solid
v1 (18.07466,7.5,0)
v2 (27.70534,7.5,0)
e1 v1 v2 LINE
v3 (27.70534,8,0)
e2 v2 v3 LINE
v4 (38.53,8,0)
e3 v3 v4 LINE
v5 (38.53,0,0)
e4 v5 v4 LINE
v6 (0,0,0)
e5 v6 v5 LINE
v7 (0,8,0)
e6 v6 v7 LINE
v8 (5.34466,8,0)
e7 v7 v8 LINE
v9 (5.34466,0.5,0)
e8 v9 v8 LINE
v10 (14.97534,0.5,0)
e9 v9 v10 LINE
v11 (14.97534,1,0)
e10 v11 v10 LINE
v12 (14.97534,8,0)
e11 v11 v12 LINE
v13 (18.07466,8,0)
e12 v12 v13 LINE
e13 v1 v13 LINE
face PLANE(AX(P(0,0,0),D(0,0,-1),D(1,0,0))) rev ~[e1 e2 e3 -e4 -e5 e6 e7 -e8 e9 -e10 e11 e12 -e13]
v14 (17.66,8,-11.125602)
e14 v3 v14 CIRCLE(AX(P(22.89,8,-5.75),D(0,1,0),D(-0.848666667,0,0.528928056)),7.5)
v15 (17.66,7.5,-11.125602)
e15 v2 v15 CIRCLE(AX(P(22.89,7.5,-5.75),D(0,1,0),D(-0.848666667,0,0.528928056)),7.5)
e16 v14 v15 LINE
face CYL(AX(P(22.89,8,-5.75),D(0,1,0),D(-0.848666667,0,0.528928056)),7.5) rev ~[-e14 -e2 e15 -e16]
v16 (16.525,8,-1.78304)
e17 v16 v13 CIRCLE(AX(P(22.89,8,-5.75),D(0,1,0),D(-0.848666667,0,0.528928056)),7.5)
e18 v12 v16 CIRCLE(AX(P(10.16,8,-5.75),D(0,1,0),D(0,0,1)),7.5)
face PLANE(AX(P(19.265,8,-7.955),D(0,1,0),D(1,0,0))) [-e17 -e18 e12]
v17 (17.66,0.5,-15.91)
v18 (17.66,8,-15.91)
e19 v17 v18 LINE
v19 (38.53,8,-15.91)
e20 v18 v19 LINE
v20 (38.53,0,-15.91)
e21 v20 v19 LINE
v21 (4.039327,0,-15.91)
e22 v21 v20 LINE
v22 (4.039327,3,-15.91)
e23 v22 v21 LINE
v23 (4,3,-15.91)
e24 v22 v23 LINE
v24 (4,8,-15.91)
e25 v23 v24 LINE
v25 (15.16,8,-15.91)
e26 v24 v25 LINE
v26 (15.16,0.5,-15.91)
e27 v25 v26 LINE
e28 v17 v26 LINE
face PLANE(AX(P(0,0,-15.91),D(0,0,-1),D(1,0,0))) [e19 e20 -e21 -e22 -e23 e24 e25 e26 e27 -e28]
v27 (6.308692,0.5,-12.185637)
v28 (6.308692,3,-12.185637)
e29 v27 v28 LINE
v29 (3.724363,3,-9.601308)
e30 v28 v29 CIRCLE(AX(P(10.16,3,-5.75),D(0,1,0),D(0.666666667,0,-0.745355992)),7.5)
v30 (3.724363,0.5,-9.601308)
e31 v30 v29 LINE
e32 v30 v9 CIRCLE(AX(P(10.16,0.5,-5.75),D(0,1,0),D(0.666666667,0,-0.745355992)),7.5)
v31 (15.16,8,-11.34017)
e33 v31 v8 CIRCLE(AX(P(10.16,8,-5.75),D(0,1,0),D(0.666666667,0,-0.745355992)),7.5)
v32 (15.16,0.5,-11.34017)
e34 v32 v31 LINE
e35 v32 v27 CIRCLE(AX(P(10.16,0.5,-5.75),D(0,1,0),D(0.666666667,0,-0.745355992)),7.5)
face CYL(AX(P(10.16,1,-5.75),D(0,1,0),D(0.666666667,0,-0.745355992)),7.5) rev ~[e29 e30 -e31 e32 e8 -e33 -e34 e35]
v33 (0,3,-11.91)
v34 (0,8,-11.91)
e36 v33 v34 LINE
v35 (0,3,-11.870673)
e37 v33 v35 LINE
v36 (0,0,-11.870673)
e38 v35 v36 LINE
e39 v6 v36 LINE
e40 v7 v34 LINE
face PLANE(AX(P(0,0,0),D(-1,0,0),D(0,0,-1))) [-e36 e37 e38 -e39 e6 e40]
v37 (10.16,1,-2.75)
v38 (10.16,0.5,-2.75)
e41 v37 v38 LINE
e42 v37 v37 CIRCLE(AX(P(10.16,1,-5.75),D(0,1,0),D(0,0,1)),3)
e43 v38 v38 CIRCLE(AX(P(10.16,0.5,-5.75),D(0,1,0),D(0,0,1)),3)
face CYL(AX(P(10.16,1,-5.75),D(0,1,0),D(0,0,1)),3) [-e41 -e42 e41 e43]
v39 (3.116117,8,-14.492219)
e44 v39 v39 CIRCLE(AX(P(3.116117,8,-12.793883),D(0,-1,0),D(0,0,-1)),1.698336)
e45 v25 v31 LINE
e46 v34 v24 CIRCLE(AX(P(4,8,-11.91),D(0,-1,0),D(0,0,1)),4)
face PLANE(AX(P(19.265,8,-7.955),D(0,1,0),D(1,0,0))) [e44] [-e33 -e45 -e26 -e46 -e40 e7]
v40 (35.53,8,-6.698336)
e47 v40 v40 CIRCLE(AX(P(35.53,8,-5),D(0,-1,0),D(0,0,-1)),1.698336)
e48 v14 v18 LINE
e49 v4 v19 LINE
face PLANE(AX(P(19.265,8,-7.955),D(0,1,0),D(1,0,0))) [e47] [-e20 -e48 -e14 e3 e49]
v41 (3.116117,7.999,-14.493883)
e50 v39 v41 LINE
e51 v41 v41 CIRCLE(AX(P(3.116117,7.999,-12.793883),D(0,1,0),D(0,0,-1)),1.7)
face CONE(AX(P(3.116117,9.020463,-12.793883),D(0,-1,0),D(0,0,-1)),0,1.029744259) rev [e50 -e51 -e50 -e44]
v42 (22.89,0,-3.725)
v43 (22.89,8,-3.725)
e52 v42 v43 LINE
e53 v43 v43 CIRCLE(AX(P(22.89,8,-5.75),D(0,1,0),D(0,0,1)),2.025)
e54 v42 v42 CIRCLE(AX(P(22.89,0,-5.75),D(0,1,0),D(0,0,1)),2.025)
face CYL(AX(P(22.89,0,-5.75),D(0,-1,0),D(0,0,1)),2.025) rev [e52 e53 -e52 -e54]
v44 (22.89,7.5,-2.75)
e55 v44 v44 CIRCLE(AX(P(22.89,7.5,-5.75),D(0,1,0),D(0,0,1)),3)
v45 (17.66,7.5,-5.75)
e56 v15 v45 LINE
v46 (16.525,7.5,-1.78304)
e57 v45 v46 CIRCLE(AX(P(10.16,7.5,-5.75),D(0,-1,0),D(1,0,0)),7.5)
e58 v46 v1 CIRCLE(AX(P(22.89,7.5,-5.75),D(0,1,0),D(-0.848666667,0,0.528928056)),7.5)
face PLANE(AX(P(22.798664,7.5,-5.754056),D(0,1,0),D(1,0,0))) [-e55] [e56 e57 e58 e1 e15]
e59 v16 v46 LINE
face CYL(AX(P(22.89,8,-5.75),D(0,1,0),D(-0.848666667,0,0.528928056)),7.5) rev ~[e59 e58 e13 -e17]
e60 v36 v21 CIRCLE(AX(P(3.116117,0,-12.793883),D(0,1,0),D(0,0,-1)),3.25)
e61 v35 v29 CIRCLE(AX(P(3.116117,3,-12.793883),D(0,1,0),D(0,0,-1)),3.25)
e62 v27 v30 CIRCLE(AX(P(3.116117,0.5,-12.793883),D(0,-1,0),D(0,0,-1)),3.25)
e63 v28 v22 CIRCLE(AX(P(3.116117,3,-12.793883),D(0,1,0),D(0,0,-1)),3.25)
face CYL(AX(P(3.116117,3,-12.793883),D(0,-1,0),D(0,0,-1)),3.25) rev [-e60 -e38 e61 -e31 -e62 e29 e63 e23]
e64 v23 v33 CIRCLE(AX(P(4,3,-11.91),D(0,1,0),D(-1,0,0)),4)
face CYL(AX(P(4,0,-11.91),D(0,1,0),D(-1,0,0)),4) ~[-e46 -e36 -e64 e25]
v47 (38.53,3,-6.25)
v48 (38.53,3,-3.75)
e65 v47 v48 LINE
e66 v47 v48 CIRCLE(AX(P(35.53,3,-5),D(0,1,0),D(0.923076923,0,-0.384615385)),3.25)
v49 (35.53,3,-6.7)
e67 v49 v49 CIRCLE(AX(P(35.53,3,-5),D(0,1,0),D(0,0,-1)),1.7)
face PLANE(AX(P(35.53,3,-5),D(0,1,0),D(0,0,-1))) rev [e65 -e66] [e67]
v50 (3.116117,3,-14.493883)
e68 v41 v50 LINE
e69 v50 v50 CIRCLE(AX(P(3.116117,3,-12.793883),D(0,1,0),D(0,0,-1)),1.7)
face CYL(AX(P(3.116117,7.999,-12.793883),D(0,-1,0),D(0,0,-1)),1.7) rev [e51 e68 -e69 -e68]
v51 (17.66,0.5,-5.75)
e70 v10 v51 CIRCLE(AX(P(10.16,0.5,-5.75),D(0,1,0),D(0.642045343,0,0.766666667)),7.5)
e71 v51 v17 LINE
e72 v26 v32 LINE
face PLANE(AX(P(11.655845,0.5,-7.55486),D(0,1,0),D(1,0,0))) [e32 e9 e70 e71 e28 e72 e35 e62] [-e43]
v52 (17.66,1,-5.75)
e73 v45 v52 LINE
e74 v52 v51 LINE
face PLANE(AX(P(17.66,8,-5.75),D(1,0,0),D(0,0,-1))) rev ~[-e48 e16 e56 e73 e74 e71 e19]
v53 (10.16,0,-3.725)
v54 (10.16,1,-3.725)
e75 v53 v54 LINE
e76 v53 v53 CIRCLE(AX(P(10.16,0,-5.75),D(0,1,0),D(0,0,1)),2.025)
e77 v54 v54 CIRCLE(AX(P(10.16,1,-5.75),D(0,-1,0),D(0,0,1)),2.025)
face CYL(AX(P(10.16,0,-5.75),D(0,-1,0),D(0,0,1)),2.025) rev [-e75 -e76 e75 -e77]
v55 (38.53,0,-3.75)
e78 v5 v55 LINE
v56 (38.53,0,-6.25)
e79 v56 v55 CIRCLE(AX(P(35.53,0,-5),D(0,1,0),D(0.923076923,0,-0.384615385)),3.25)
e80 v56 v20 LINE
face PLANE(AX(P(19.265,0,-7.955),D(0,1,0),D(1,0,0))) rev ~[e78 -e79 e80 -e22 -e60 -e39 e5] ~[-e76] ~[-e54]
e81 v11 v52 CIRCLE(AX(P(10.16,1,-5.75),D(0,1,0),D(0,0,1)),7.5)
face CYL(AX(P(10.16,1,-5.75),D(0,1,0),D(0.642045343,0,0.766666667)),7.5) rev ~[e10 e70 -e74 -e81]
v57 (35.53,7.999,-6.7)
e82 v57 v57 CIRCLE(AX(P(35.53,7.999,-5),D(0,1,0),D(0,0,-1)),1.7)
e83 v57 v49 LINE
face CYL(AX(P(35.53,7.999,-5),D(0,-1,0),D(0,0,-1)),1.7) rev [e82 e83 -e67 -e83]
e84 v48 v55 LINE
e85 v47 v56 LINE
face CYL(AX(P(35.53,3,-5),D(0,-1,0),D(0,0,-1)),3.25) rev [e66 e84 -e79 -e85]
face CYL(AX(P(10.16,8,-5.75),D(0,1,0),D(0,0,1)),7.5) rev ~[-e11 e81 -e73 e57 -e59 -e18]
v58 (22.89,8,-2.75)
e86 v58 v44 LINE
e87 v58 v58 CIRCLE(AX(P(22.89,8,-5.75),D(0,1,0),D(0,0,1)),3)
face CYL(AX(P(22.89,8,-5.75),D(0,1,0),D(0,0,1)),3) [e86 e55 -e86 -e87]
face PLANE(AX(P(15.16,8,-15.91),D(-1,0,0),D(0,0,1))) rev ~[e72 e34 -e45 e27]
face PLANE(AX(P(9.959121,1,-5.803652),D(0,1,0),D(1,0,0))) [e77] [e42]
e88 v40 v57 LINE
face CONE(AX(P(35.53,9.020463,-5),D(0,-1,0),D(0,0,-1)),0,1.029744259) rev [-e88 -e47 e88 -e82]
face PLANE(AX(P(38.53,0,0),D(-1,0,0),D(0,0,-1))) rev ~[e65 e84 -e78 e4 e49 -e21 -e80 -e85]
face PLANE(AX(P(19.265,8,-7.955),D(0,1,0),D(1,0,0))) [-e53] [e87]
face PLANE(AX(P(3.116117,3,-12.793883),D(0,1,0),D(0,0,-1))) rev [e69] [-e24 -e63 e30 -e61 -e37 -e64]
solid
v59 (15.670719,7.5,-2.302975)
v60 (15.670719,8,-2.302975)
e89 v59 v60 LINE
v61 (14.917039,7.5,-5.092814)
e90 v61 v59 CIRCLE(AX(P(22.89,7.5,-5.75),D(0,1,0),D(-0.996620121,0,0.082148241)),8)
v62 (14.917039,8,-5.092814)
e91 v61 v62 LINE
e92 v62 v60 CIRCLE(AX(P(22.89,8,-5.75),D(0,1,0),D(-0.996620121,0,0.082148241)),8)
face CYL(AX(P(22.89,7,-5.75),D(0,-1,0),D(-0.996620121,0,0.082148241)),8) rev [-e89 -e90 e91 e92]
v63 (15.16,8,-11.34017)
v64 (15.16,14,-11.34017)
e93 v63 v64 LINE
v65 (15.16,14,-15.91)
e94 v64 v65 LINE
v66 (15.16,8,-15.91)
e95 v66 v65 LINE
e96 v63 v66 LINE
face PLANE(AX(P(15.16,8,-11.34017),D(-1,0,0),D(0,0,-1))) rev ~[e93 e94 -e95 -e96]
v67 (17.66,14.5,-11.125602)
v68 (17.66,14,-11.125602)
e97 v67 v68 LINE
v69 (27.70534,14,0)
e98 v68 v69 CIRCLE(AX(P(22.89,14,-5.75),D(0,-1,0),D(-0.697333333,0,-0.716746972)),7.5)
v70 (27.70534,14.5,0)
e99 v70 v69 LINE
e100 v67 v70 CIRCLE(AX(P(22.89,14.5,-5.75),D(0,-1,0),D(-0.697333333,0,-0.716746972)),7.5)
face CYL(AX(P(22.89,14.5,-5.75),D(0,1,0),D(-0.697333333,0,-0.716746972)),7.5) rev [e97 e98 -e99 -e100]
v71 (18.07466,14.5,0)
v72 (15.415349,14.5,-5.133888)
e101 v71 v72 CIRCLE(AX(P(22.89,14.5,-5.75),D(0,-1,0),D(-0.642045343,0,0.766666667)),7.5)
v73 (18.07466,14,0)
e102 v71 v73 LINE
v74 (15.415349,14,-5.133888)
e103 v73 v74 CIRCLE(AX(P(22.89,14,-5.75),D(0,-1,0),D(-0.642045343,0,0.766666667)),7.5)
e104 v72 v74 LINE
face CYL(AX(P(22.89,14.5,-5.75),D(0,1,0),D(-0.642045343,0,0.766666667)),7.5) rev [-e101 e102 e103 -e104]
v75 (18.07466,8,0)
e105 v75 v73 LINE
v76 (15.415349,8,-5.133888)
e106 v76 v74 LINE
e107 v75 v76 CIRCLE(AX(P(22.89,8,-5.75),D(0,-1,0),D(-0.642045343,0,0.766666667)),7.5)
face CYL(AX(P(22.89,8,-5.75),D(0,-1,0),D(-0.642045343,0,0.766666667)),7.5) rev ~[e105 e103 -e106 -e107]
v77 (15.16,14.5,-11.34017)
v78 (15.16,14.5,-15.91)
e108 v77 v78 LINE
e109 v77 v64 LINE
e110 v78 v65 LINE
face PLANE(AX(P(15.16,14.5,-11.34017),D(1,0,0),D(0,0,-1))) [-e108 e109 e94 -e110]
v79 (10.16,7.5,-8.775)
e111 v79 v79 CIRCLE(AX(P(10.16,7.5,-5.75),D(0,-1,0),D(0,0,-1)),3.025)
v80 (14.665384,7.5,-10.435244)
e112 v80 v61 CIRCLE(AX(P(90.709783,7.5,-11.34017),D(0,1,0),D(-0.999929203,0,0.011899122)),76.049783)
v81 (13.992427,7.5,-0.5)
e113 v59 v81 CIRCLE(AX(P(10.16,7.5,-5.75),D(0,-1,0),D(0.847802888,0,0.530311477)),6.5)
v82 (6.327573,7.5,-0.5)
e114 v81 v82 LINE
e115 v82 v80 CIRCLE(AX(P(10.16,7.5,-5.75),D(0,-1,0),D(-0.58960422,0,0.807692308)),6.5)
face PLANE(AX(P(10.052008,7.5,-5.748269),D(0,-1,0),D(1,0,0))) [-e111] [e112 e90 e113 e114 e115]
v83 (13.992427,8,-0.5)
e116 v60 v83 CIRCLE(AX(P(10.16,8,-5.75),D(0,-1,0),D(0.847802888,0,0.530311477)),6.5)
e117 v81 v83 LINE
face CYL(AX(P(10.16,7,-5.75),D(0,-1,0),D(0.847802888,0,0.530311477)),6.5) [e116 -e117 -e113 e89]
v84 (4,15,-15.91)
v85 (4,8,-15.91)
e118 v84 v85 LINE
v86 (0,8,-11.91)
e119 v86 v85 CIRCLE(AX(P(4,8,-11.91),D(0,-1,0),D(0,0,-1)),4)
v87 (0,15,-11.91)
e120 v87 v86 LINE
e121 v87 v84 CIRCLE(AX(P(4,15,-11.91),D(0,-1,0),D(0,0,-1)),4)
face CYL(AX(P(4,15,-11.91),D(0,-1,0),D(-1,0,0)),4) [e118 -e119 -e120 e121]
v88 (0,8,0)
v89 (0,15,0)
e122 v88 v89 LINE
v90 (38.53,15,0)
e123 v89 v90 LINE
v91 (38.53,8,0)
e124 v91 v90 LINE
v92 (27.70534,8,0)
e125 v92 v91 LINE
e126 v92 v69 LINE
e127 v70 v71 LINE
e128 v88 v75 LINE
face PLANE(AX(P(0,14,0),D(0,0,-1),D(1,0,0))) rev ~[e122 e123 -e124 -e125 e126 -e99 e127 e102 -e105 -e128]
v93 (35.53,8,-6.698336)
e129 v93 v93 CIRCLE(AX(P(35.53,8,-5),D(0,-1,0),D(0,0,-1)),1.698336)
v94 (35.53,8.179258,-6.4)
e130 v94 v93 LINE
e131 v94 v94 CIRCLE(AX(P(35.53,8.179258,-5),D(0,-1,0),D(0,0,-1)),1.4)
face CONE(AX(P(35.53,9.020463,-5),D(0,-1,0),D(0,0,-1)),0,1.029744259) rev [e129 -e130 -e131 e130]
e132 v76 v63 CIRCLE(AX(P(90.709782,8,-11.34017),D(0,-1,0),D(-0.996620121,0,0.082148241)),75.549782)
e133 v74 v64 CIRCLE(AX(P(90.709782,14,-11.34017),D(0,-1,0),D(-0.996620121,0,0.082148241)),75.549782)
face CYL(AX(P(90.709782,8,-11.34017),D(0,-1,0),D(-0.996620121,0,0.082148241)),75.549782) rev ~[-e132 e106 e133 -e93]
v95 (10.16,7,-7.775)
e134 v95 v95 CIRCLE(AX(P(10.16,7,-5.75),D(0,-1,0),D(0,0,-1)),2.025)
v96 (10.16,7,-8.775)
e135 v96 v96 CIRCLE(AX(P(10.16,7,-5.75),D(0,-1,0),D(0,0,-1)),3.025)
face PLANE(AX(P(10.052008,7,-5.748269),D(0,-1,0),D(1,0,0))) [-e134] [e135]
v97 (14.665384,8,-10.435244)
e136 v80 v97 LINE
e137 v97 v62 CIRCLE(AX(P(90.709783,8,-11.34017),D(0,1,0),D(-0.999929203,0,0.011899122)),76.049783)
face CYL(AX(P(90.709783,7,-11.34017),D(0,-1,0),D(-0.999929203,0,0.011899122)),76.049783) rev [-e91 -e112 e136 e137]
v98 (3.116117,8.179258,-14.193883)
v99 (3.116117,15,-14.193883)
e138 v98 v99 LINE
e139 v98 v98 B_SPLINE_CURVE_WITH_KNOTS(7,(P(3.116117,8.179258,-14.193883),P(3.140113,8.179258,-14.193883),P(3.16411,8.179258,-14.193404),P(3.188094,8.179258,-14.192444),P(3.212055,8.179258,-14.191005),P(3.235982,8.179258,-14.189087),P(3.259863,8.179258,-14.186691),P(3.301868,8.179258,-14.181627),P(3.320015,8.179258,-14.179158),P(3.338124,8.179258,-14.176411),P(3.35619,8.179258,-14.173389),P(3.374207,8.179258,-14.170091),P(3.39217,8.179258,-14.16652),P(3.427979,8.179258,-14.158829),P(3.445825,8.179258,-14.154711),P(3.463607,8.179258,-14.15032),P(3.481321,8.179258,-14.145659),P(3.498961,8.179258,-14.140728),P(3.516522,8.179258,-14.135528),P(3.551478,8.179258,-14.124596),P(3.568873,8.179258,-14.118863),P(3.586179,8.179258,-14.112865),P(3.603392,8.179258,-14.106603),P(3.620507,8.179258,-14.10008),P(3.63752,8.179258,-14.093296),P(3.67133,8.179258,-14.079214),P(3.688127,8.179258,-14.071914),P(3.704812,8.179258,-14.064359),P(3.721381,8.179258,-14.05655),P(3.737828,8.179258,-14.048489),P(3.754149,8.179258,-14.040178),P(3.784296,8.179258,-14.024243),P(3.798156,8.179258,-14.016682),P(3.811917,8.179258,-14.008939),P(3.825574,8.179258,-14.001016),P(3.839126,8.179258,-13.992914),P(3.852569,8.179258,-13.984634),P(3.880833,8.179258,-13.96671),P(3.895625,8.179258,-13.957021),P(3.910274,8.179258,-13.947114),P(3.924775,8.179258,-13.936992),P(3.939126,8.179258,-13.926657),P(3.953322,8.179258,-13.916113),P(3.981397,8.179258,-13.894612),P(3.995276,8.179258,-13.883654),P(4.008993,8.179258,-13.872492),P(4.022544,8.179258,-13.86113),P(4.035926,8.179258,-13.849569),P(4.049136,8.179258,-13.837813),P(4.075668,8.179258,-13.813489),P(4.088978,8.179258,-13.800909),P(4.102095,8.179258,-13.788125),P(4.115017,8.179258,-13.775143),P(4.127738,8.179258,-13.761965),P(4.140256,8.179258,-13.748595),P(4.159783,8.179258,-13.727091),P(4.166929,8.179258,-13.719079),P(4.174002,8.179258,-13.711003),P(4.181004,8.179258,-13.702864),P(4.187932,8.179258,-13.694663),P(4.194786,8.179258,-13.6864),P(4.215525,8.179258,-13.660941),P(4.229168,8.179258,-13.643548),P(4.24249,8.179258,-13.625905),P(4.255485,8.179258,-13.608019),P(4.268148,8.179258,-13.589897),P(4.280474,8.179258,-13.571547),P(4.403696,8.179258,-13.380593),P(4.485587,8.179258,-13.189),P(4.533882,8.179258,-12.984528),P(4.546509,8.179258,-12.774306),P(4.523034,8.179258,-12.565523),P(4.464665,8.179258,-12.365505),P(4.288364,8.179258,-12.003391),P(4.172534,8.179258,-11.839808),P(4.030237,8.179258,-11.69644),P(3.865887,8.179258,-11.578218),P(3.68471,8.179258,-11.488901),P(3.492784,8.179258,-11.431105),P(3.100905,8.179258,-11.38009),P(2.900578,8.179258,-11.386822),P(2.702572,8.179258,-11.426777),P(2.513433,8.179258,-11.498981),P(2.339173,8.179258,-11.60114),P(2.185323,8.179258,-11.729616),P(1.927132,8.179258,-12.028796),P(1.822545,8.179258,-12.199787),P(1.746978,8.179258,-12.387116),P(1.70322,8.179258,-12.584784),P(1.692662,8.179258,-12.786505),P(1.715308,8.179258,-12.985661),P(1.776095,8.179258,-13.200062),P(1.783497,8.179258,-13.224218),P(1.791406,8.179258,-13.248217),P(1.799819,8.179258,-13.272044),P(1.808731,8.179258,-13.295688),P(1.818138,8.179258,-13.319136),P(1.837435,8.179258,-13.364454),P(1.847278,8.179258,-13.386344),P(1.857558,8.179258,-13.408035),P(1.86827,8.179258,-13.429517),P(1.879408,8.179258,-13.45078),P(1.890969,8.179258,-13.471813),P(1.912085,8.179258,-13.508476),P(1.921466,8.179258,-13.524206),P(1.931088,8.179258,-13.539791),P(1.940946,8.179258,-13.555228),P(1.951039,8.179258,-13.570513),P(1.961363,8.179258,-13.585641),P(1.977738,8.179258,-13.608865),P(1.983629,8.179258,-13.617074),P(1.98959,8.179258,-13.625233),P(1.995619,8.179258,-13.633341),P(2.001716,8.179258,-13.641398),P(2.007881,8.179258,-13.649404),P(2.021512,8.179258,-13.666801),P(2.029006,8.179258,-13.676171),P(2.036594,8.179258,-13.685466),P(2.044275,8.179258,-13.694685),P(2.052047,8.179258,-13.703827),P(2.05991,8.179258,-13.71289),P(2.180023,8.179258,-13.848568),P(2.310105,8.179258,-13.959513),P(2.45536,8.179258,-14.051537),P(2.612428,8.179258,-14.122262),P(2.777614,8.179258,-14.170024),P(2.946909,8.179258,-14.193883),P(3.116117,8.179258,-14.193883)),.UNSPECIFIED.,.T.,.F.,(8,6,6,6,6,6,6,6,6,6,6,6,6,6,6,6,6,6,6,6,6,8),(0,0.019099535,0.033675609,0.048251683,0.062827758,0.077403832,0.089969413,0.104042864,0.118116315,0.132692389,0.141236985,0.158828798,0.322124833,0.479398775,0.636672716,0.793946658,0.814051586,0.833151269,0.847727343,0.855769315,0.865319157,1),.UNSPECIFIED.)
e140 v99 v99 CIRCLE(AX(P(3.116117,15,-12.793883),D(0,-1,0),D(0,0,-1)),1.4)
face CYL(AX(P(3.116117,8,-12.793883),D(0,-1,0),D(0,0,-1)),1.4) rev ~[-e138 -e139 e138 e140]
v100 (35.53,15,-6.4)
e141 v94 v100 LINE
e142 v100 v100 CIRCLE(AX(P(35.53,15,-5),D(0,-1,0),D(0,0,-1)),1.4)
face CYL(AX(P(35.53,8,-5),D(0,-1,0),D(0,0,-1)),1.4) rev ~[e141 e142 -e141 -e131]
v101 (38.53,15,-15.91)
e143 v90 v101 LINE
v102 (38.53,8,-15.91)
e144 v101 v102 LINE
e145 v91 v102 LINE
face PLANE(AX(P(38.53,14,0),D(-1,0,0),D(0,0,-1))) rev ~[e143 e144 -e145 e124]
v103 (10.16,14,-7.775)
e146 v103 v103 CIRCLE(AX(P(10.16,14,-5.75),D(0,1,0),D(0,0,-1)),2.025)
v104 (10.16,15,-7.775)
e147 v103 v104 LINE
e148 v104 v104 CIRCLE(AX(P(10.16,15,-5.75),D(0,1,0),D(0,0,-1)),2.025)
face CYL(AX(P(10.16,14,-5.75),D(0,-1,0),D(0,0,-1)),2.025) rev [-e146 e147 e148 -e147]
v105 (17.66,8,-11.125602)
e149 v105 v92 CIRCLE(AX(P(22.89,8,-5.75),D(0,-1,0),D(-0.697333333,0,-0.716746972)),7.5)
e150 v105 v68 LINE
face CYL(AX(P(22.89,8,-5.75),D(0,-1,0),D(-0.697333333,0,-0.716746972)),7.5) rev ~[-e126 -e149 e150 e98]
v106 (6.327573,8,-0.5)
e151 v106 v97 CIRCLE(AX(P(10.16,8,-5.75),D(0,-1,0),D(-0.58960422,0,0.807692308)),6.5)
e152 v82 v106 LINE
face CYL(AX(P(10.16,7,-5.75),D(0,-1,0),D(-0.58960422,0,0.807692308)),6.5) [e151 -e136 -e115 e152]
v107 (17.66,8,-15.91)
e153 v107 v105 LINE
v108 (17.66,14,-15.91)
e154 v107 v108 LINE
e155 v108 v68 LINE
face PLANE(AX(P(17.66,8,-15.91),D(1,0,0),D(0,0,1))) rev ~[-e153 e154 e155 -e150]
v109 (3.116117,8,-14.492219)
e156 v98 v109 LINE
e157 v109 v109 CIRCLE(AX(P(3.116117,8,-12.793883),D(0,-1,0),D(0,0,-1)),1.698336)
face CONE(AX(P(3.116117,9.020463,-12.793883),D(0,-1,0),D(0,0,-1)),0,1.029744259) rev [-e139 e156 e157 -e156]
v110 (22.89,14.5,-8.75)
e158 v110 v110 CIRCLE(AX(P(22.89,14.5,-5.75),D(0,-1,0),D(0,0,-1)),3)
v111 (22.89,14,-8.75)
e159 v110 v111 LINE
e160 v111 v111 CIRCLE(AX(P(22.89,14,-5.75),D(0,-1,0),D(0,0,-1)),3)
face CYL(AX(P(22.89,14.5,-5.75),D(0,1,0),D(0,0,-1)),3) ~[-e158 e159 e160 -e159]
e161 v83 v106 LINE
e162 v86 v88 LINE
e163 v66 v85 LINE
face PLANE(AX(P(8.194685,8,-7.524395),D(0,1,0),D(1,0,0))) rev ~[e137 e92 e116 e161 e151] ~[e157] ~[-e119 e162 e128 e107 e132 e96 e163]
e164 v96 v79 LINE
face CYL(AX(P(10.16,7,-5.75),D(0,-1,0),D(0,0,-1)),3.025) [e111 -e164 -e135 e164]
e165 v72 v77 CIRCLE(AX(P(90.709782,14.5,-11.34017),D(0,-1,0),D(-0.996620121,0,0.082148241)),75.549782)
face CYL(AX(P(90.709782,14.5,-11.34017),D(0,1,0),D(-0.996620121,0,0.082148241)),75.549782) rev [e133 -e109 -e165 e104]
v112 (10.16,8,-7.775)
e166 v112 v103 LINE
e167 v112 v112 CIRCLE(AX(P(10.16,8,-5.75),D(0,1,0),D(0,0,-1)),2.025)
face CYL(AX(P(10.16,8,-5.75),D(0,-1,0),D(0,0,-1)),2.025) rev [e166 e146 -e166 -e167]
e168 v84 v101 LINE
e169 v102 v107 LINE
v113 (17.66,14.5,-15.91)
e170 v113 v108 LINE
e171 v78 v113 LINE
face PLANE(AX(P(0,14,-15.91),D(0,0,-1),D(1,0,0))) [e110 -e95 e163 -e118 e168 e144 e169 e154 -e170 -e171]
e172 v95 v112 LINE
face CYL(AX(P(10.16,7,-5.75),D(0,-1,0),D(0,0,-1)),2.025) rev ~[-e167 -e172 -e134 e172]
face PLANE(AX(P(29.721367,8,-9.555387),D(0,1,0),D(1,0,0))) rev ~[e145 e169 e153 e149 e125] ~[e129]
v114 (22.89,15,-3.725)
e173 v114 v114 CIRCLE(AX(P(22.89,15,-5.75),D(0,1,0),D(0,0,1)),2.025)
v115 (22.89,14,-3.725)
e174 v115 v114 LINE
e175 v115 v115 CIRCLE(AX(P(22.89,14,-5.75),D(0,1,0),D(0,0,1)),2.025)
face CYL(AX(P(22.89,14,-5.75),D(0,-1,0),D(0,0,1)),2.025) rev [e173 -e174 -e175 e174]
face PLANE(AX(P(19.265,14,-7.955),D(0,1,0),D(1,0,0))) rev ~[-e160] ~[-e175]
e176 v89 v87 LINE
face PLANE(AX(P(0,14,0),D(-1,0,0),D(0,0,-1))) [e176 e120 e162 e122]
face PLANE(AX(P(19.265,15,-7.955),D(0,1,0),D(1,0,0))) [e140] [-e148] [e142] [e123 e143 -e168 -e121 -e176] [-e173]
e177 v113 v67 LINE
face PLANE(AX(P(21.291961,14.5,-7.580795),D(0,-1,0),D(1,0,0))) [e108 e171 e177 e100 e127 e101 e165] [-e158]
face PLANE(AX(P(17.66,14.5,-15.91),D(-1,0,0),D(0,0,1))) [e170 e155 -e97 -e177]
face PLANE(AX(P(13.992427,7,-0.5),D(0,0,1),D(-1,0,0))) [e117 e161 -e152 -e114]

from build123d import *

# Parameters (mm, degrees)
SKETCH1_W                     = 38.53
SKETCH1_H                     = 15.91
SKETCH1_R                     = 2.025
BOSS_EXTRUDE1_DEPTH           = 8
CUT_EXTRUDE1_DEPTH            = 7
SKETCH3_R                     = 3
CUT_EXTRUDE2_DEPTH            = 0.5
SKETCH5_R                     = 3
CUT_EXTRUDE4_DEPTH            = 0.5
SKETCH8_R                     = 2.025
BOSS_EXTRUDE3_DEPTH           = 6
BOSS_EXTRUDE3_2_DEPTH         = 6
BOSS_EXTRUDE5_START           = 1
SKETCH12_R                    = 2.025
BOSS_EXTRUDE5_DEPTH           = 1
SKETCH13_R                    = 3.025
CUT_EXTRUDE6_DEPTH            = 0.5
SKETCH14_W                    = 38.53
SKETCH14_H                    = 15.91
SKETCH14_R                    = 2.025
BOSS_EXTRUDE6_DEPTH           = 1
CUT_EXTRUDE7_START            = -0.5
SKETCH15_R                    = 3
CUT_EXTRUDE7_DEPTH            = 0.5
FILLET1_R                     = 4
FILLET2_R                     = 4
SKETCH23_R                    = 1.4
CUT_EXTRUDE13_DEPTH           = 43.44630726
CBORE_FOR_M3_SHCS1_AT_2_COUNT = 2
CBORE_FOR_M3_SHCS1_AT_2_PITCH = 33.337733301


with BuildPart() as part:
    # Sketch1 → Boss-Extrude1 (new body)
    with BuildSketch(Plane(origin=(0, 0, 0), x_dir=(1, 0, 0), z_dir=(0, 1, 0))):
        with Locations((19.265, 7.955)):
            Rectangle(SKETCH1_W, SKETCH1_H)
        with Locations(Location((10.16, 5.75, 0), (0, 0, 270))):
            Circle(SKETCH1_R, mode=Mode.SUBTRACT)
        with Locations(Location((22.89, 5.75, 0), (0, 0, 270))):
            Circle(SKETCH1_R, mode=Mode.SUBTRACT)
    extrude(amount=BOSS_EXTRUDE1_DEPTH)

    # Sketch2 → Cut-Extrude1 (cut)
    with BuildSketch(Plane(origin=(0, 8, 0), x_dir=(1, 0, 0), z_dir=(0, 1, 0))):
        with BuildLine():
            Line((17.66, 5.75), (17.66, 15.91))
            Line((17.66, 15.91), (15.16, 15.91))
            Line((15.16, 15.91), (15.16, 11.340169944))
            ThreePointArc((15.16, 11.340169944), (4.489163341, 10.658320649), (5.344659929, 0))
            Line((5.344659929, 0), (0, 0))
            Line((0, 0), (0, -1.75))
            Line((0, -1.75), (10.16, -1.75))
            ThreePointArc((10.16, -1.75), (15.463300859, 0.446699141), (17.66, 5.75))
        make_face()
    extrude(amount=-CUT_EXTRUDE1_DEPTH, mode=Mode.SUBTRACT)

    # Sketch3 → Cut-Extrude2 (cut)
    with BuildSketch(Plane(origin=(0, 1, 0), x_dir=(1, 0, 0), z_dir=(0, 1, 0))):
        with BuildLine():
            Line((17.66, 5.75), (17.66, 15.91))
            Line((17.66, 15.91), (15.16, 15.91))
            Line((15.16, 15.91), (15.16, 11.340169944))
            ThreePointArc((15.16, 11.340169944), (4.489163341, 10.658320649), (5.344659929, 0))
            Line((5.344659929, 0), (14.975340071, 0))
            ThreePointArc((14.975340071, 0), (16.955772603, 2.577071584), (17.66, 5.75))
        make_face()
        with Locations(Location((10.16, 5.75, 0), (0, 0, 270))):
            Circle(SKETCH3_R, mode=Mode.SUBTRACT)
    extrude(amount=-CUT_EXTRUDE2_DEPTH, mode=Mode.SUBTRACT)

    # Sketch5 → Cut-Extrude4 (cut)
    with BuildSketch(Plane(origin=(0, 8, 0), x_dir=(1, 0, 0), z_dir=(0, 1, 0))):
        with BuildLine():
            Line((17.66, 11.125602292), (17.66, 5.75))
            ThreePointArc((17.66, 5.75), (17.370669178, 3.686931896), (16.525, 1.783039577))
            ThreePointArc((16.525, 1.783039577), (30.33525861, 4.845497801), (17.66, 11.125602292))
        make_face()
        with Locations(Location((22.89, 5.75, 0), (0, 0, 270))):
            Circle(SKETCH5_R, mode=Mode.SUBTRACT)
    extrude(amount=-CUT_EXTRUDE4_DEPTH, mode=Mode.SUBTRACT)

    # Fillet2
    fillet2_edges = [part.edges().sort_by_distance(p)[0] for p in [
        (0, 4, -15.91),
    ]]
    fillet(fillet2_edges, radius=FILLET2_R)


with BuildPart() as body_2:
    # Sketch8 → Boss-Extrude3 (new body)
    with BuildSketch(Plane(origin=(0, 8, 0), x_dir=(1, 0, 0), z_dir=(0, 1, 0))):
        with BuildLine():
            Line((0, 0), (18.074659929, 0))
            ThreePointArc((18.074659929, 0), (16.230407552, 2.300387207), (15.415349089, 5.133888192))
            ThreePointArc((15.415349089, 5.133888192), (15.223864265, 8.23440368), (15.16, 11.340169944))
            Line((15.16, 11.340169944), (15.16, 15.91))
            Line((15.16, 15.91), (0, 15.91))
            Line((0, 15.91), (0, 0))
        make_face()
        with Locations(Location((10.16, 5.75, 0), (0, 0, 90))):
            Circle(SKETCH8_R, mode=Mode.SUBTRACT)
    extrude(amount=BOSS_EXTRUDE3_DEPTH)

    # Sketch12 → Boss-Extrude5 (add)
    with BuildSketch(Plane.XZ.offset(-8).offset(BOSS_EXTRUDE5_START)):
        with BuildLine():
            Line((13.992427429, -0.5), (6.327572571, -0.5))
            ThreePointArc((6.327572571, -0.5), (5.180995333, -9.928458152), (14.665384101, -10.435244295))
            ThreePointArc((14.665384101, -10.435244295), (14.744232393, -7.761816232), (14.917039028, -5.092814072))
            ThreePointArc((14.917039028, -5.092814072), (15.166862315, -3.663580986), (15.670718775, -2.302975401))
            ThreePointArc((15.670718775, -2.302975401), (14.917759485, -1.321261502), (13.992427429, -0.5))
        make_face()
        with Locations(Location((10.16, -5.75, 0), (0, 0, 270))):
            Circle(SKETCH12_R, mode=Mode.SUBTRACT)
    extrude(amount=-BOSS_EXTRUDE5_DEPTH)

    # Sketch13 → Cut-Extrude6 (cut)
    with BuildSketch(Plane.XZ.offset(-7)):
        with BuildLine():
            Line((13.992427429, -0.5), (6.327572571, -0.5))
            ThreePointArc((6.327572571, -0.5), (5.180995333, -9.928458152), (14.665384101, -10.435244295))
            ThreePointArc((14.665384101, -10.435244295), (14.744232393, -7.761816232), (14.917039028, -5.092814072))
            ThreePointArc((14.917039028, -5.092814072), (15.166862315, -3.663580986), (15.670718775, -2.302975401))
            ThreePointArc((15.670718775, -2.302975401), (14.917759485, -1.321261502), (13.992427429, -0.5))
        make_face()
        with Locations(Location((10.16, -5.75, 0), (0, 0, 270))):
            Circle(SKETCH13_R, mode=Mode.SUBTRACT)
    extrude(amount=-CUT_EXTRUDE6_DEPTH, mode=Mode.SUBTRACT)



with BuildPart() as body_3:
    # Sketch8 → Boss-Extrude3 2 (new body)
    with BuildSketch(Plane(origin=(0, 8, 0), x_dir=(1, 0, 0), z_dir=(0, 1, 0))):
        with BuildLine():
            Line((27.705340071, 0), (38.53, 0))
            Line((38.53, 0), (38.53, 15.91))
            Line((38.53, 15.91), (17.66, 15.91))
            Line((17.66, 15.91), (17.66, 11.125602292))
            ThreePointArc((17.66, 11.125602292), (28.45666348, 10.776157349), (27.705340071, 0))
        make_face()
    extrude(amount=BOSS_EXTRUDE3_2_DEPTH)


with BuildPart() as body_2_1:
    add(body_2.part)

    add(body_3.part)  # Boss-Extrude6 merges body 3
    # Sketch14 → Boss-Extrude6 (add)
    with BuildSketch(Plane(origin=(0, 14, 0), x_dir=(1, 0, 0), z_dir=(0, 1, 0))):
        with Locations((19.265, 7.955)):
            Rectangle(SKETCH14_W, SKETCH14_H)
        with Locations(Location((22.89, 5.75, 0), (0, 0, 270))):
            Circle(SKETCH14_R, mode=Mode.SUBTRACT)
        with Locations(Location((10.16, 5.75, 0), (0, 0, 90))):
            Circle(SKETCH14_R, mode=Mode.SUBTRACT)
    extrude(amount=BOSS_EXTRUDE6_DEPTH)

    # Sketch15 → Cut-Extrude7 (cut)
    with BuildSketch(Plane.XZ.offset(-14).offset(CUT_EXTRUDE7_START)):
        with BuildLine():
            Line((15.16, -11.340169944), (15.16, -15.91))
            Line((15.16, -15.91), (17.66, -15.91))
            Line((17.66, -15.91), (17.66, -11.125602292))
            ThreePointArc((17.66, -11.125602292), (28.45666348, -10.776157349), (27.705340071, 0))
            Line((27.705340071, 0), (18.074659929, 0))
            ThreePointArc((18.074659929, 0), (16.230407552, -2.300387207), (15.415349089, -5.133888192))
            ThreePointArc((15.415349089, -5.133888192), (15.223864265, -8.23440368), (15.16, -11.340169944))
        make_face()
        with Locations(Location((22.89, -5.75, 0), (0, 0, 270))):
            Circle(SKETCH15_R, mode=Mode.SUBTRACT)
    extrude(amount=CUT_EXTRUDE7_DEPTH, mode=Mode.SUBTRACT)

    # Fillet1
    fillet1_edges = [body_2_1.edges().sort_by_distance(p)[0] for p in [
        (0, 11.5, -15.91),
    ]]
    fillet(fillet1_edges, radius=FILLET1_R)

    # Sketch23 → Cut-Extrude13 (cut, through all)
    with BuildSketch(Plane.XZ.offset(-8)):
        with Locations(Location((3.116116524, -12.793883476, 0), (0, 0, 270))):
            Circle(SKETCH23_R)
        with Locations(Location((35.53, -5, 0), (0, 0, 270))):
            Circle(SKETCH23_R)
    extrude(amount=-CUT_EXTRUDE13_DEPTH, mode=Mode.SUBTRACT)


with BuildPart() as cbore_for_m3_shcs1_tool:
    # Sketch25 → CBORE for M3 SHCS1 (revolve)
    with BuildSketch(Plane(origin=(35.53, 0, -5), x_dir=(0, 0, -1), z_dir=(1, 0, 0))):
        Polygon((0, 0), (0, 9.020463052), (1.7, 7.999), (1.7, 3), (3.25, 3), (3.25, 0), align=None)
    cbore_for_m3_shcs1 = revolve(axis=Axis((35.53, -6.35, -5), (0, 1, 0)))


with BuildPart() as part_1:
    add(part.part)

    # CBORE for M3 SHCS1: cut by cbore_for_m3_shcs1_tool
    add(cbore_for_m3_shcs1_tool.part, mode=Mode.SUBTRACT)


with BuildPart() as body_2_2:
    add(body_2_1.part)

    # CBORE for M3 SHCS1: cut by cbore_for_m3_shcs1_tool
    add(cbore_for_m3_shcs1_tool.part, mode=Mode.SUBTRACT)


with BuildPart() as cbore_for_m3_shcs1_at_2_tool:
    # CBORE for M3 SHCS1 at 2: CBORE for M3 SHCS1 ×2
    with Locations(*[Vector(-0.9722881631898271, 0, -0.2337856448136884) * (i * CBORE_FOR_M3_SHCS1_AT_2_PITCH) for i in range(1, CBORE_FOR_M3_SHCS1_AT_2_COUNT)]):
        add(cbore_for_m3_shcs1)


with BuildPart() as part_2:
    add(part_1.part)

    # CBORE for M3 SHCS1 at 2: cut by cbore_for_m3_shcs1_at_2_tool
    add(cbore_for_m3_shcs1_at_2_tool.part, mode=Mode.SUBTRACT)


with BuildPart() as body_2_3:
    add(body_2_2.part)

    # CBORE for M3 SHCS1 at 2: cut by cbore_for_m3_shcs1_at_2_tool
    add(cbore_for_m3_shcs1_at_2_tool.part, mode=Mode.SUBTRACT)


solid = Compound([part_2.part, body_2_3.part])
